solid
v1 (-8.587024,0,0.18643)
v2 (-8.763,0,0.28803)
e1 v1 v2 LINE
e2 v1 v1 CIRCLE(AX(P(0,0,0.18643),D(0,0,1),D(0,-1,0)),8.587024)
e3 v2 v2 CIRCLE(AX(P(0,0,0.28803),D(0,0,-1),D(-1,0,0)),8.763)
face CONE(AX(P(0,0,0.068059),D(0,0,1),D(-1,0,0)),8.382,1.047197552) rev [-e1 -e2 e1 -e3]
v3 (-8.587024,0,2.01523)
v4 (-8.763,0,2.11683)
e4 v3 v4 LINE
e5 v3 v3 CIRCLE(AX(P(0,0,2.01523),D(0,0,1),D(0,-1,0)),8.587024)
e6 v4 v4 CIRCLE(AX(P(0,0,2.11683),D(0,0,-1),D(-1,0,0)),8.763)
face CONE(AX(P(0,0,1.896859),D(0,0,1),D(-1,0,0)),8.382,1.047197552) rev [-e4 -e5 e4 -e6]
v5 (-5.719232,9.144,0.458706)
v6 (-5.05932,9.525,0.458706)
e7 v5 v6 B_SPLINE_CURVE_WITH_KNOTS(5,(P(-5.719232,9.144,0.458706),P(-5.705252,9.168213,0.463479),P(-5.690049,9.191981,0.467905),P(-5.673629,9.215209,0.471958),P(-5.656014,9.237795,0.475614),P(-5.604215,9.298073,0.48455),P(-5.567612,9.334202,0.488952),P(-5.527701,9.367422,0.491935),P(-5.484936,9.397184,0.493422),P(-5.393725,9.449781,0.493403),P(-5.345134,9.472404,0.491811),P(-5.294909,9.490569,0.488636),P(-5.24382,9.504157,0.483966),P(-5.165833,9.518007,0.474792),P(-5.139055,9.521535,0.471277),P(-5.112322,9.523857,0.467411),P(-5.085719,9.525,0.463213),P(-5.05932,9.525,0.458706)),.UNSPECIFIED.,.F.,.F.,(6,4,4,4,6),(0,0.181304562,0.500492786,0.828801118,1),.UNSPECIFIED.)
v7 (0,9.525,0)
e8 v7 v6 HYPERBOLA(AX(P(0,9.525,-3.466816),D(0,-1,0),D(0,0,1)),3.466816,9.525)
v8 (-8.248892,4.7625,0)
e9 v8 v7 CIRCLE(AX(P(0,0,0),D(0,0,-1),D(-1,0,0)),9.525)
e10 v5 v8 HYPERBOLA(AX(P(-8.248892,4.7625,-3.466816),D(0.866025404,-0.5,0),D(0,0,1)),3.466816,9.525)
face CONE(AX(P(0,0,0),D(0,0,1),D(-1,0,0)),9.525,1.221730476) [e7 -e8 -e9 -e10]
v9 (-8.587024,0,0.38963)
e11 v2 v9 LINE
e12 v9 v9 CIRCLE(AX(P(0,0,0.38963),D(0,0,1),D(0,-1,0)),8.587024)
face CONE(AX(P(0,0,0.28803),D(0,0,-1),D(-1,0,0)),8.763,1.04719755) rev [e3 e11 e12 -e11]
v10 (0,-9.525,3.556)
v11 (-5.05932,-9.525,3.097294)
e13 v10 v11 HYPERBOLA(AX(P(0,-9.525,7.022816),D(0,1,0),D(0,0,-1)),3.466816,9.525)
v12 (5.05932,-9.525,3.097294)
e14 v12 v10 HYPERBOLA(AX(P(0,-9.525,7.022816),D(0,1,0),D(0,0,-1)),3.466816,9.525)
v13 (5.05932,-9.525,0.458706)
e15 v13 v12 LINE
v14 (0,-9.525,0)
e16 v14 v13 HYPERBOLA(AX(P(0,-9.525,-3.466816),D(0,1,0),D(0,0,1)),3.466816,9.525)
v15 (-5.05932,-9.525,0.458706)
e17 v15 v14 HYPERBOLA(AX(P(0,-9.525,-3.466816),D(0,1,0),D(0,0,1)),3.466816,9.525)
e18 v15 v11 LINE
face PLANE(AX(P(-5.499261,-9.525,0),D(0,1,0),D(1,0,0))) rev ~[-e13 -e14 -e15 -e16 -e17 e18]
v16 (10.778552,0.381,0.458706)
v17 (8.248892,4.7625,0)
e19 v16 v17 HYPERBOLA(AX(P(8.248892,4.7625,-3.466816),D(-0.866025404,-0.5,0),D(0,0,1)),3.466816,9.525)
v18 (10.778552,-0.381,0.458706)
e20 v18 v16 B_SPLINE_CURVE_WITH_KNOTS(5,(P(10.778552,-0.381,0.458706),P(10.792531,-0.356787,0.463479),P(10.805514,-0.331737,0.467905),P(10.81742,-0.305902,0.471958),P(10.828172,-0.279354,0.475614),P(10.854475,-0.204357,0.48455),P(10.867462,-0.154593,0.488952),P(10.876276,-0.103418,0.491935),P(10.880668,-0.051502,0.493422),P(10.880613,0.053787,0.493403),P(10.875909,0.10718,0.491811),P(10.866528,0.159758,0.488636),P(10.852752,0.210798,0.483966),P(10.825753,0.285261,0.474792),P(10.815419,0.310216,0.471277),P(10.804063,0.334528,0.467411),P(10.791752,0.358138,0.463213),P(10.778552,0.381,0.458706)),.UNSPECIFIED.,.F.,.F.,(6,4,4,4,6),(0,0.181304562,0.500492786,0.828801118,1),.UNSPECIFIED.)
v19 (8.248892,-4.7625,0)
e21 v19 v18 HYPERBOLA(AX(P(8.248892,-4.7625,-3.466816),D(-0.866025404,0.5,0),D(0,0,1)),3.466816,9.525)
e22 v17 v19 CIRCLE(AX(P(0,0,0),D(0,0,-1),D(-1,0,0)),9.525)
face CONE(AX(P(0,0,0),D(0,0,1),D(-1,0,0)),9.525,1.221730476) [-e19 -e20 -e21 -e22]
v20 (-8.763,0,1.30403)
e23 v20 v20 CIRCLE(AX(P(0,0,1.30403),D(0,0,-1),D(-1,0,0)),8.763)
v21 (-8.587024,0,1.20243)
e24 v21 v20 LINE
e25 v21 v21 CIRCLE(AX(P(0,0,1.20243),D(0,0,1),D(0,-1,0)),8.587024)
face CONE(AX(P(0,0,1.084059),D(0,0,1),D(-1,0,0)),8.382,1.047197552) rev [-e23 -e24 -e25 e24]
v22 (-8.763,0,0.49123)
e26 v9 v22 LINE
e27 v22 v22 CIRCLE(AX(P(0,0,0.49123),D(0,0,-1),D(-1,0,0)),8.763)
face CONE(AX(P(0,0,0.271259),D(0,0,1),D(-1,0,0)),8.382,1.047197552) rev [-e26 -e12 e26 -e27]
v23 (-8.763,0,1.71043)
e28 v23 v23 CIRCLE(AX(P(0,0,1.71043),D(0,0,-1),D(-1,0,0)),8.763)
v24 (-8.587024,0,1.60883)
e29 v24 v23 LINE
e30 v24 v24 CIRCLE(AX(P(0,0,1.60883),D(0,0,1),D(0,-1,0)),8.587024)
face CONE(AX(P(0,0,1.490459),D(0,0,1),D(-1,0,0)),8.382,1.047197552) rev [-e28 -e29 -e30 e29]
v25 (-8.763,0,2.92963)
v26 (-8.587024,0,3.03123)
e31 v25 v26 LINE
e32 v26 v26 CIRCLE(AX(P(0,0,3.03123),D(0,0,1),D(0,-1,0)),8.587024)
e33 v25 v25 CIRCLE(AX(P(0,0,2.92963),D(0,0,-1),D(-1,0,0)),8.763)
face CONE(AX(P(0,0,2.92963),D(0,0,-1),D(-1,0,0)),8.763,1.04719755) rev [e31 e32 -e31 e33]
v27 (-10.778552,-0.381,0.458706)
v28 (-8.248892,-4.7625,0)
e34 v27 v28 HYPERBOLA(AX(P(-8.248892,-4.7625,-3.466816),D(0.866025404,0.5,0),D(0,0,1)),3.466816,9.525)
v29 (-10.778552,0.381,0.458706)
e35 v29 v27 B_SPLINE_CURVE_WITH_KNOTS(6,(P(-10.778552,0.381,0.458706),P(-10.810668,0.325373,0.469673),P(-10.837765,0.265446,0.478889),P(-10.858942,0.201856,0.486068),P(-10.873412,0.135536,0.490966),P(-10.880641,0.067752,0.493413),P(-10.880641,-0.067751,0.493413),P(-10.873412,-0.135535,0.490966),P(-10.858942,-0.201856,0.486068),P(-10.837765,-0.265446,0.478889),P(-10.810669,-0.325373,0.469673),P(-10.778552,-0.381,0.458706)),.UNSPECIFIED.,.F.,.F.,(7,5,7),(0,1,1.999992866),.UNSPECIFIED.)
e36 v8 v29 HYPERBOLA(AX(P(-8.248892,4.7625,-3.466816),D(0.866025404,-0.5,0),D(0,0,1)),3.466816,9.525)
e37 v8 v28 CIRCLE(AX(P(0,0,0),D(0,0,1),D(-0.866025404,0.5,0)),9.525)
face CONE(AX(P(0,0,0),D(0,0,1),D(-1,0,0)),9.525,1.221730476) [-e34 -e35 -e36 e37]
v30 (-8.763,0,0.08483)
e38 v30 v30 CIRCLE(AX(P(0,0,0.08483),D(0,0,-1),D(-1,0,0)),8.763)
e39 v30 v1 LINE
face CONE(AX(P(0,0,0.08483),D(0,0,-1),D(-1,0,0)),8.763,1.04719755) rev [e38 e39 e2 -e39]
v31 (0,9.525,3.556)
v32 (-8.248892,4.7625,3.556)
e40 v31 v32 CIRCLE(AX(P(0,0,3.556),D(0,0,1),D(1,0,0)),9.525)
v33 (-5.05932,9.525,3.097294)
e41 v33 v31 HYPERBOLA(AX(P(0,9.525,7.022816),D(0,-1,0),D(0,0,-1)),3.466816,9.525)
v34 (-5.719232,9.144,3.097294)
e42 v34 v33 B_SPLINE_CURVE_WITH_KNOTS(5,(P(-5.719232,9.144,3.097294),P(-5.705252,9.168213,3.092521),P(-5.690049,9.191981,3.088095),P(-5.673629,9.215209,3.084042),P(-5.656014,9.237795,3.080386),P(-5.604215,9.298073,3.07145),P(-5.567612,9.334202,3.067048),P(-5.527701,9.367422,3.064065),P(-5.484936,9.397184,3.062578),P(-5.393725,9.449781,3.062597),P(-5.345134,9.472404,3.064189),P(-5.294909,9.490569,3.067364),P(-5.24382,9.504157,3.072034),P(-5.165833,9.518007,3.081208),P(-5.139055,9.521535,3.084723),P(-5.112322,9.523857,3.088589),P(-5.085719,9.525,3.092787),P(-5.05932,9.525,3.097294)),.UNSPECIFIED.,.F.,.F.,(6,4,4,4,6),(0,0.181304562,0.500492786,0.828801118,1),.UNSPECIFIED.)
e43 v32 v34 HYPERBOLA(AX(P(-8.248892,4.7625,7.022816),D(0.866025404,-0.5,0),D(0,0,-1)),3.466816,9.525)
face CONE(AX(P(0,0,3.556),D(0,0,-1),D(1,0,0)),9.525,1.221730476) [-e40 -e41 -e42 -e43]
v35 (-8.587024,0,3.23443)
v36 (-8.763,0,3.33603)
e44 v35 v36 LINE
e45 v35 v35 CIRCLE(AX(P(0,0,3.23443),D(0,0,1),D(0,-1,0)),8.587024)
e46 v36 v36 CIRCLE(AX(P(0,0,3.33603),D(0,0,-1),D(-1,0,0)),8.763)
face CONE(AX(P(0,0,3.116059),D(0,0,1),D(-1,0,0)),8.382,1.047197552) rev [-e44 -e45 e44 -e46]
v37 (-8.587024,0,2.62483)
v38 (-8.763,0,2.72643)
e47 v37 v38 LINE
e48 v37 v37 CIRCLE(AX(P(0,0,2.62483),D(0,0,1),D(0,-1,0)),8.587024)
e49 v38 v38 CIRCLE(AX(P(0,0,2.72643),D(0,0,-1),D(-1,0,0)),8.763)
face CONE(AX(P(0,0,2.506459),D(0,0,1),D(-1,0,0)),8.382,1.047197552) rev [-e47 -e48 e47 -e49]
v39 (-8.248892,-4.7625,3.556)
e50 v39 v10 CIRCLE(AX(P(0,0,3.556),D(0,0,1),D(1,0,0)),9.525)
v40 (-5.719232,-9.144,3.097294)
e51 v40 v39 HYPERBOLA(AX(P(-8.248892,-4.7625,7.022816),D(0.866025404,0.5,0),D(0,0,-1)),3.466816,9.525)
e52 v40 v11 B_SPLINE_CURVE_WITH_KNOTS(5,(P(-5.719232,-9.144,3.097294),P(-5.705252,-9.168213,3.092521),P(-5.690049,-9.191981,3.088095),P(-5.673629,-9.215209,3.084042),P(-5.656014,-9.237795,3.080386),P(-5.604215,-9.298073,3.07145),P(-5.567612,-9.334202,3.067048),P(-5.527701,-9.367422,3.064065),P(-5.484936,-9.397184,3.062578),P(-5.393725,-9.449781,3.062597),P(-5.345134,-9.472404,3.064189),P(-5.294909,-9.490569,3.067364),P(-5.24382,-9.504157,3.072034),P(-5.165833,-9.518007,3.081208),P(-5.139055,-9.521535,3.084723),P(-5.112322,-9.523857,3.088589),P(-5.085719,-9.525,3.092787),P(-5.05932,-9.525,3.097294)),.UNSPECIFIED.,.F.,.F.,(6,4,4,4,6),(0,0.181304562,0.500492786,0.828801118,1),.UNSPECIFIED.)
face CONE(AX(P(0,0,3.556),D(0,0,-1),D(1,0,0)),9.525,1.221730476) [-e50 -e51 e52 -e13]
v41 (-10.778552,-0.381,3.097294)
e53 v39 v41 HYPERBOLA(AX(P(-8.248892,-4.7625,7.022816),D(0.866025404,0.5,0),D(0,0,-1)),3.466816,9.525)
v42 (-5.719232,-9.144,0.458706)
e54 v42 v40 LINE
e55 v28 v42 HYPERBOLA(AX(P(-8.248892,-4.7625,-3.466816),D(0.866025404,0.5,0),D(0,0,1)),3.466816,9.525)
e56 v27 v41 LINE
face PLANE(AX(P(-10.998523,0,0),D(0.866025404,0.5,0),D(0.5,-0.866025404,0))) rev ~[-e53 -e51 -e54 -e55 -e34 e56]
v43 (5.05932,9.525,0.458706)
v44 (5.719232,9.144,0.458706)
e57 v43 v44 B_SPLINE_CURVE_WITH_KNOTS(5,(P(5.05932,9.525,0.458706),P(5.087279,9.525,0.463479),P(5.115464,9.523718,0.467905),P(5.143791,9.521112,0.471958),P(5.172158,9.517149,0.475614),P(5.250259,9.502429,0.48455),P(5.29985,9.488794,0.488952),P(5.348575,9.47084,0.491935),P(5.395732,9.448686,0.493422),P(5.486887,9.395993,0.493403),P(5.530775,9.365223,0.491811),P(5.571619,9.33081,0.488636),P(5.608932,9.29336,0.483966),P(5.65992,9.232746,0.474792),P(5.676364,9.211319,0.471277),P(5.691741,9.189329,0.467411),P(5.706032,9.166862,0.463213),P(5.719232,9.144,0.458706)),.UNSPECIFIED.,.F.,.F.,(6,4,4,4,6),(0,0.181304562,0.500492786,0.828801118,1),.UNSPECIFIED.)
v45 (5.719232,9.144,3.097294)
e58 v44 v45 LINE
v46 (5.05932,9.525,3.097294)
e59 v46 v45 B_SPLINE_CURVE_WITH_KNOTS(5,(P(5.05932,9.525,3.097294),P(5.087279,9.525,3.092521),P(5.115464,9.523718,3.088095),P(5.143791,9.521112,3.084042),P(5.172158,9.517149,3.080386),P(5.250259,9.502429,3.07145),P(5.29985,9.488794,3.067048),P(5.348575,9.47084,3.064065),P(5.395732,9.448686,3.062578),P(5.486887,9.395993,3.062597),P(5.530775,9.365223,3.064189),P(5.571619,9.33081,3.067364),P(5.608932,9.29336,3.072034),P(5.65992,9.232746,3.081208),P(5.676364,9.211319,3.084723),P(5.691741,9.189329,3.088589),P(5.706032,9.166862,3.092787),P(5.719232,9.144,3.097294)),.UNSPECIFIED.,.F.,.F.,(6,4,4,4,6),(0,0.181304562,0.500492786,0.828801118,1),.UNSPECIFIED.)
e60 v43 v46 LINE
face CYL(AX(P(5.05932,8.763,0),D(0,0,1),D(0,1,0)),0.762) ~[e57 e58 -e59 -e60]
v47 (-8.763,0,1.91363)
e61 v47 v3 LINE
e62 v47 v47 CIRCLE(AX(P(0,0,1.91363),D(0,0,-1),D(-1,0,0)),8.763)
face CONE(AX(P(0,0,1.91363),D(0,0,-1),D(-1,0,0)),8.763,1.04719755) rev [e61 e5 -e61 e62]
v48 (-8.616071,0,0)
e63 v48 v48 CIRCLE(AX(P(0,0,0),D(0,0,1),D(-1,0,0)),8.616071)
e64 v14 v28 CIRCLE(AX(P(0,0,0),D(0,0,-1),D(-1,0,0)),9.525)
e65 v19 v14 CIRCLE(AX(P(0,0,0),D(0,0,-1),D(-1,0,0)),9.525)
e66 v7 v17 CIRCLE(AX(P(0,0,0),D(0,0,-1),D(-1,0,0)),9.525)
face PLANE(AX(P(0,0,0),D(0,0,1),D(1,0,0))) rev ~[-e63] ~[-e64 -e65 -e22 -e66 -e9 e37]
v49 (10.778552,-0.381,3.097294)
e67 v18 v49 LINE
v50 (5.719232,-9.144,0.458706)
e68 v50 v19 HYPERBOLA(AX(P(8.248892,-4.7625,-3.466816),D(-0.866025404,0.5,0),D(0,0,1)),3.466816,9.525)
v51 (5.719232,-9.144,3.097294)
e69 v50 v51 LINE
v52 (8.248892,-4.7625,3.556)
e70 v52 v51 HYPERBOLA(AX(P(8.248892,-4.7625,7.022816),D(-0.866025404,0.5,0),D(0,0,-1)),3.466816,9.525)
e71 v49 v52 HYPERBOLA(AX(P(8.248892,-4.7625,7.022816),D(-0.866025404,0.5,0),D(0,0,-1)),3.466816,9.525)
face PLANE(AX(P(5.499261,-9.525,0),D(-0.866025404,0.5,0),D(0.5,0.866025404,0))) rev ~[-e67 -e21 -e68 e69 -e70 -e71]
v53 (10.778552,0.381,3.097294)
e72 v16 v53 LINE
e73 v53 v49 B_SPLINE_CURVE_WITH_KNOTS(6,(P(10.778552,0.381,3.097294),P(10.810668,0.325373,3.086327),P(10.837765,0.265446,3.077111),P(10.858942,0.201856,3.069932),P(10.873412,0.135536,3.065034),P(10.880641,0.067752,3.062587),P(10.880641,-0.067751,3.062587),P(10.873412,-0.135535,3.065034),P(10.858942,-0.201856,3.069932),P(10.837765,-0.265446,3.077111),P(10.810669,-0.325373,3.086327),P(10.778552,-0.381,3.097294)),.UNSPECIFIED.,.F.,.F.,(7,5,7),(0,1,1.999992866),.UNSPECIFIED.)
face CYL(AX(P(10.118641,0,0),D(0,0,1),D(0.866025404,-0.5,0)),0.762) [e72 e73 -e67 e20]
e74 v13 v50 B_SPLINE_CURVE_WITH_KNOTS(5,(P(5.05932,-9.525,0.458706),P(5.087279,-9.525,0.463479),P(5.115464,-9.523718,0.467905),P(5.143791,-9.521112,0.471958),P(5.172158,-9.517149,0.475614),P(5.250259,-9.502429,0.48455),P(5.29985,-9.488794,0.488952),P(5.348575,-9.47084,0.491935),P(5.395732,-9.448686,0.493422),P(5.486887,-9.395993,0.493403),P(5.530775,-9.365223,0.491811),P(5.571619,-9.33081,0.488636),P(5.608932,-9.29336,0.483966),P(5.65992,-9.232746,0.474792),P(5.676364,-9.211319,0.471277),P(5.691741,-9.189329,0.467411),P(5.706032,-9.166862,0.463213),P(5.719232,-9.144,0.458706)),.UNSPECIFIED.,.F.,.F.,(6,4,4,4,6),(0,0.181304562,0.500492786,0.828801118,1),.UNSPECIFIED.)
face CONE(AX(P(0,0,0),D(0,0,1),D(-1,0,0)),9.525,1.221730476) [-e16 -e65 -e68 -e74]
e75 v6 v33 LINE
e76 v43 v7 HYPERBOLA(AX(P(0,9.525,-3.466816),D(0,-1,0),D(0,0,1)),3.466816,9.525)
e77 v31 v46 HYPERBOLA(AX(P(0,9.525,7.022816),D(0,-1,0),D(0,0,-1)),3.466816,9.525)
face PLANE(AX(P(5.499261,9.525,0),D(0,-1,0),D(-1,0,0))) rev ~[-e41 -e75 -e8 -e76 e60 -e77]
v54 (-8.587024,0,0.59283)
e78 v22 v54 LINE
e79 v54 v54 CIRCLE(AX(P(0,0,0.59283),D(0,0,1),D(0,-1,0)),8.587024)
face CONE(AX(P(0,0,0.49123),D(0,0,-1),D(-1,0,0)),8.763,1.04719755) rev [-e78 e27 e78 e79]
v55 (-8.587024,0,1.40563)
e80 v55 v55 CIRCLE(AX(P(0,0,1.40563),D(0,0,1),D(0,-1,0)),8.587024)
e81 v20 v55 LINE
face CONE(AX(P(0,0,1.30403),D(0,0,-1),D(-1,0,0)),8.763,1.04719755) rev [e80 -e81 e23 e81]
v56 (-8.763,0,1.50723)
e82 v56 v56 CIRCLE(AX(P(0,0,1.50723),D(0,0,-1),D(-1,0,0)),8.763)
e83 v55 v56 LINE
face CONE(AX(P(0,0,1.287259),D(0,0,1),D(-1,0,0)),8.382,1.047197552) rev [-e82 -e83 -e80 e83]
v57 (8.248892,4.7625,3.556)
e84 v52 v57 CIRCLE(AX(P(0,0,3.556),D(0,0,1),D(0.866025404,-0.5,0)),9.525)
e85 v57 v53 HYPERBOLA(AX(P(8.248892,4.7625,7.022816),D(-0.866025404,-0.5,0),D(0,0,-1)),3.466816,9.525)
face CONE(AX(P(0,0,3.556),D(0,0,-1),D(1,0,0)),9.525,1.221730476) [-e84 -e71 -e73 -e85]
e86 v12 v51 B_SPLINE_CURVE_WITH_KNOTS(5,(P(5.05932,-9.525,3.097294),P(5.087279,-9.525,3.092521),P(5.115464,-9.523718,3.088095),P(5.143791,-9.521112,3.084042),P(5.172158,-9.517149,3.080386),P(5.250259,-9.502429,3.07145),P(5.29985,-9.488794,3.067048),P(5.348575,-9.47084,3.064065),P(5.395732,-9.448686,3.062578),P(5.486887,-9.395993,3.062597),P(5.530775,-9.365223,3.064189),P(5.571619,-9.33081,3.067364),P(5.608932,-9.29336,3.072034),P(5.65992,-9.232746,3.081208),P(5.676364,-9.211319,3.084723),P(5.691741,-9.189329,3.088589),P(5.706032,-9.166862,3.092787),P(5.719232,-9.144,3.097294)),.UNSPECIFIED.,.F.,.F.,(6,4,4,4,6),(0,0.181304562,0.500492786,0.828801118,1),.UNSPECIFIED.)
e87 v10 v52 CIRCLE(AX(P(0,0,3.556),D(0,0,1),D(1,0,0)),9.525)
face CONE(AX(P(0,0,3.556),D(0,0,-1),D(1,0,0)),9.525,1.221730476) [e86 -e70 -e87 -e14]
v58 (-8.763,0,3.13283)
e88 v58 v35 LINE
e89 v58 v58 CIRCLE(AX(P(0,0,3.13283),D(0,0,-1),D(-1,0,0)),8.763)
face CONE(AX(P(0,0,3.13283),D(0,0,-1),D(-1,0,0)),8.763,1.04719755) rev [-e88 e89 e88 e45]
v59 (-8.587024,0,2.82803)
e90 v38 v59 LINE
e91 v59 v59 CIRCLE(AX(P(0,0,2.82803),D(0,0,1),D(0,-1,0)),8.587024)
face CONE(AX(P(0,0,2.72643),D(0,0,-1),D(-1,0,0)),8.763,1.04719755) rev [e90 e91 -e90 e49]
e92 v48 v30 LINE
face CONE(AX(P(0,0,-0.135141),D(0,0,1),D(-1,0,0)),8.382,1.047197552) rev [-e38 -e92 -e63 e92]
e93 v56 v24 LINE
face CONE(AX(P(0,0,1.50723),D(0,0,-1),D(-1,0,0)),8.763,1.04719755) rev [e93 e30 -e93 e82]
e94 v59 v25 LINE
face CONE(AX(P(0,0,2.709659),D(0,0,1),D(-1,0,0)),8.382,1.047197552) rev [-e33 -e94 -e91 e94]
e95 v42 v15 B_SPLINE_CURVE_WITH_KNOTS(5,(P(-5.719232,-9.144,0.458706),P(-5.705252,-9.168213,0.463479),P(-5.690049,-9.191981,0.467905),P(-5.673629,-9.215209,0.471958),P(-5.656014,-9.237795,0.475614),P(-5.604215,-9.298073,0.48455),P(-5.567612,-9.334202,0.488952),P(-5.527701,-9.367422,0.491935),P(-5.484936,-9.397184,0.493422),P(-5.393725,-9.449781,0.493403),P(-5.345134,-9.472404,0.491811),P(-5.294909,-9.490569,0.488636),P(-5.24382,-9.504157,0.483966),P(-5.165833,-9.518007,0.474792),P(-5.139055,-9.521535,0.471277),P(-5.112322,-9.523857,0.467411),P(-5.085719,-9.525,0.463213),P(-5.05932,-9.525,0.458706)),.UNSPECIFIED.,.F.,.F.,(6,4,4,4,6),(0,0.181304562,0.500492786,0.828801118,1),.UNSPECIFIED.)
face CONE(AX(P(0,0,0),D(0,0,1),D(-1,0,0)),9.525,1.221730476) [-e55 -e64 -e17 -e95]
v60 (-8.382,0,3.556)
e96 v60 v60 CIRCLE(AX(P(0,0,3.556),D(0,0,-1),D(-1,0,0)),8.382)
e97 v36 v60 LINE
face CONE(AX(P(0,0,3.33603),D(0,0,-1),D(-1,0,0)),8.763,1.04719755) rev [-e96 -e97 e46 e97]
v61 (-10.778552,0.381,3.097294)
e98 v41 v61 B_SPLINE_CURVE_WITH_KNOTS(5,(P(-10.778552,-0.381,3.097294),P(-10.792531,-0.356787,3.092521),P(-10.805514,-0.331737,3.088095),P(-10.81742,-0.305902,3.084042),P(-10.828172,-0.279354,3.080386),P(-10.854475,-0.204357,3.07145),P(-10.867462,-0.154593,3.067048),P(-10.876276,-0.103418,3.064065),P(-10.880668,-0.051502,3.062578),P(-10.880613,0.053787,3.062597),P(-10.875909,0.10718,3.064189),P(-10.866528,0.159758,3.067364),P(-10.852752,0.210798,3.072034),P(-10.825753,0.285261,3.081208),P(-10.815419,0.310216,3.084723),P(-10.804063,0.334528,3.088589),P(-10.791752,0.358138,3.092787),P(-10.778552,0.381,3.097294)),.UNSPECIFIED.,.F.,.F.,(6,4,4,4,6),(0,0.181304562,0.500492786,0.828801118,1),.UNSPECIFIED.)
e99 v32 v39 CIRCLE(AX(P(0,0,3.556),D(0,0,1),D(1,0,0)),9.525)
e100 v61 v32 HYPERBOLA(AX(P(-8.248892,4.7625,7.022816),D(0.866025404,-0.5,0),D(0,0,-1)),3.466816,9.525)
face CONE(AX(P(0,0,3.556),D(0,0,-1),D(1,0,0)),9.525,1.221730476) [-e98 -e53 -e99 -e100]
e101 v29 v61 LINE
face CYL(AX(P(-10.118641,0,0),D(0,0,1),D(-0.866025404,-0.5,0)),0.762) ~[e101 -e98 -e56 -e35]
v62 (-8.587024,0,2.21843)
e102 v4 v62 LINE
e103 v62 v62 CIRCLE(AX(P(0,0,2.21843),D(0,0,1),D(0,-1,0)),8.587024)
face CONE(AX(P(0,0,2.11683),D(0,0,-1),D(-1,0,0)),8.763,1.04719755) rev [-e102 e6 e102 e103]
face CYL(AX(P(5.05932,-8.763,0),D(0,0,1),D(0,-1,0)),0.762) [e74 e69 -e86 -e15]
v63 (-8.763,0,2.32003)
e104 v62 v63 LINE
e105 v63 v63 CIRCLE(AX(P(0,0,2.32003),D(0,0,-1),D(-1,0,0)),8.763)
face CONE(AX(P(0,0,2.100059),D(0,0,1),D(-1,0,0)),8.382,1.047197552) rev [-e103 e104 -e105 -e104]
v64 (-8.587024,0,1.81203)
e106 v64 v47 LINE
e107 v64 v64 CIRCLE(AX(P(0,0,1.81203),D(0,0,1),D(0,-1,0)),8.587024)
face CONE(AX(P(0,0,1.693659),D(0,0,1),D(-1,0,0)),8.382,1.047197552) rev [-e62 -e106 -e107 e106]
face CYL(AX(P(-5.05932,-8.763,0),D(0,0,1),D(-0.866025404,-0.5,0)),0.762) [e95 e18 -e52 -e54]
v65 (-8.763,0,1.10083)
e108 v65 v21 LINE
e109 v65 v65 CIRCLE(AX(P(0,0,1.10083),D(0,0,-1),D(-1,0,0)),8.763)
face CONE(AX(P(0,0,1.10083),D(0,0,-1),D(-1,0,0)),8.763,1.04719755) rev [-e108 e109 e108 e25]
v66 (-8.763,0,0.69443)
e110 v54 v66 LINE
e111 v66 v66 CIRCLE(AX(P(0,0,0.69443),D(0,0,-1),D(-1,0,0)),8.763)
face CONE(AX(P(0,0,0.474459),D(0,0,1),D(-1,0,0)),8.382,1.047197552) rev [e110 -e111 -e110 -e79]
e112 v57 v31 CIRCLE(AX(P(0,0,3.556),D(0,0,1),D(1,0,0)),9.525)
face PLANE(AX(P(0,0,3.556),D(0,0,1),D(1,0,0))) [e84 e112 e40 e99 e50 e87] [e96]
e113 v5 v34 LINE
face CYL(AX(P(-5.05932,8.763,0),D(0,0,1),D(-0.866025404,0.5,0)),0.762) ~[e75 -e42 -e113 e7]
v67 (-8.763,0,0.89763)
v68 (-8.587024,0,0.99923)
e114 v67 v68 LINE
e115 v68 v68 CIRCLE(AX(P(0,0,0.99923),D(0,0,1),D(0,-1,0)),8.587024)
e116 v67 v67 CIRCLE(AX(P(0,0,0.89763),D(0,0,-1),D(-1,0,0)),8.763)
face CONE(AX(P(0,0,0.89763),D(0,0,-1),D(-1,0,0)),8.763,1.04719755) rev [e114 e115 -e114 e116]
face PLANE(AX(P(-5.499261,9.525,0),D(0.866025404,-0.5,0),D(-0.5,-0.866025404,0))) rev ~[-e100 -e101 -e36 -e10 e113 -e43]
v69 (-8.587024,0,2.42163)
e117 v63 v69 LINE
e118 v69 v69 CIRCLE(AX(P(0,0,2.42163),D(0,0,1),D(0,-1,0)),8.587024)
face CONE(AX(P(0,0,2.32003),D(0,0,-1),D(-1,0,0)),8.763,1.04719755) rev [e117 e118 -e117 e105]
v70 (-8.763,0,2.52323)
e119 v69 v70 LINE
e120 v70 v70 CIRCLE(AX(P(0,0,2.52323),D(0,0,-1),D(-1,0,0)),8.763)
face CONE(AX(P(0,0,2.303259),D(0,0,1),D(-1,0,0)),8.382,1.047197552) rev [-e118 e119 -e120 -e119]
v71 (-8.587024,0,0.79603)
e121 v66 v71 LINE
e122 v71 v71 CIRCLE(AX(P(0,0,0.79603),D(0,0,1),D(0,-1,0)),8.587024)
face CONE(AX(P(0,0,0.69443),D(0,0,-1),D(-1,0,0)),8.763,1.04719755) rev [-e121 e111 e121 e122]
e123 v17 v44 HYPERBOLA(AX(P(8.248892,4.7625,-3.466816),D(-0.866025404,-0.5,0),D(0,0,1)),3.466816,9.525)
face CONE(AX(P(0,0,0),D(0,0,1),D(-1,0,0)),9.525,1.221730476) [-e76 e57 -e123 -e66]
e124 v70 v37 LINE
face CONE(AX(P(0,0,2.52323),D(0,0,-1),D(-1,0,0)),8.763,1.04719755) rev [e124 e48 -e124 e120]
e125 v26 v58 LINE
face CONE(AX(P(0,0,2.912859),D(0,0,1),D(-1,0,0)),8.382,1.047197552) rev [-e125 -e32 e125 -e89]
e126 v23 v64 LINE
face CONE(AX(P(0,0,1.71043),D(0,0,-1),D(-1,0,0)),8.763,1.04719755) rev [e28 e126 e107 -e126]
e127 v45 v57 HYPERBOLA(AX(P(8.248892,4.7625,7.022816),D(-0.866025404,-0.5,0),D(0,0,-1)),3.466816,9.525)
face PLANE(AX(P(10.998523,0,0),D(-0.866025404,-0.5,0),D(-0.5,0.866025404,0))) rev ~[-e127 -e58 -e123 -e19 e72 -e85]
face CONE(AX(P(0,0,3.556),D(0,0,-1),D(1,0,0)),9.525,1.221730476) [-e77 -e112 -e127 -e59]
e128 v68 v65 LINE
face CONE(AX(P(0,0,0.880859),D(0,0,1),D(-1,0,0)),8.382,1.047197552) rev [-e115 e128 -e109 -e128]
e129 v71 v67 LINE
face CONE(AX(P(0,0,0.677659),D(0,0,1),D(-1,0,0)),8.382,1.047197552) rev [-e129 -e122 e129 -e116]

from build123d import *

# Parameters (mm, degrees)
SKETCH1_R          = 8.382
EXTRUDE1_DEPTH     = 3.556
FILLET1_R          = 0.762
SKETCH2_OUTSIDE_W  = 54.624
SKETCH2_OUTSIDE_H  = 51.912
SKETCH2_OUTSIDE_R  = 9.525
CUT_EXTRUDE1_DEPTH = 4.556
CUT_EXTRUDE1_DRAFT = -70
SKETCH3_OUTSIDE_W  = 54.624
SKETCH3_OUTSIDE_H  = 51.912
SKETCH3_OUTSIDE_R  = 9.525
CUT_EXTRUDE2_DEPTH = 4.5560001
CUT_EXTRUDE2_DRAFT = -70
LPATTERN1_COUNT    = 18
LPATTERN1_PITCH    = 0.2032


with BuildPart() as part:
    # Sketch1 → Extrude1 (new body)
    with BuildSketch(Plane.XY):
        Polygon((-10.998522628, 0), (-5.499261314, -9.525), (5.499261314, -9.525), (10.998522628, 0), (5.499261314, 9.525), (-5.499261314, 9.525), align=None)
        Circle(SKETCH1_R, mode=Mode.SUBTRACT)
    extrude(amount=EXTRUDE1_DEPTH)

    # Fillet1
    fillet1_edges = [part.edges().sort_by_distance(p)[0] for p in [
        (10.998522628, 0, 1.778),
        (5.499261314, -9.525, 1.778),
        (-5.499261314, -9.525, 1.778),
        (-10.998522628, 0, 1.778),
        (-5.499261314, 9.525, 1.778),
        (5.499261314, 9.525, 1.778),
    ]]
    fillet(fillet1_edges, radius=FILLET1_R)


with BuildPart() as cut_extrude1_tool:
    # Sketch2 outside → Cut-Extrude1 (with draft: the straight prism first)
    with BuildSketch(Plane.XY.offset(3.556)):
        Rectangle(SKETCH2_OUTSIDE_W, SKETCH2_OUTSIDE_H)
        Circle(SKETCH2_OUTSIDE_R, mode=Mode.SUBTRACT)
    extrude(amount=-CUT_EXTRUDE1_DEPTH)
    # Cut-Extrude1: the draft: its side faces are tilted about the plane it starts from
    cut_extrude1_sides = [cut_extrude1_tool.faces().sort_by_distance(p)[0] for p in [
        (0, -25.956, 1.278),
        (27.312, 0, 1.278),
        (0, 25.956, 1.278),
        (-27.312, 0, 1.278),
        (-9.525, 0, 1.278),
    ]]
    draft(cut_extrude1_sides, Plane.XY.offset(3.556), CUT_EXTRUDE1_DRAFT)


with BuildPart() as part_1:
    add(part.part)

    # Cut-Extrude1: cut by cut_extrude1_tool
    add(cut_extrude1_tool.part, mode=Mode.SUBTRACT)


with BuildPart() as cut_extrude2_tool:
    # Sketch3 outside → Cut-Extrude2 (with draft: the straight prism first)
    with BuildSketch(Plane(origin=(0, 0, 0), x_dir=(-1, 0, 0), z_dir=(0, 0, -1))):
        Rectangle(SKETCH3_OUTSIDE_W, SKETCH3_OUTSIDE_H)
        Circle(SKETCH3_OUTSIDE_R, mode=Mode.SUBTRACT)
    extrude(amount=-CUT_EXTRUDE2_DEPTH)
    # Cut-Extrude2: the draft: its side faces are tilted about the plane it starts from
    cut_extrude2_sides = [cut_extrude2_tool.faces().sort_by_distance(p)[0] for p in [
        (0, -25.956, 2.27800005),
        (-27.312, 0, 2.27800005),
        (0, 25.956, 2.27800005),
        (27.312, 0, 2.27800005),
        (9.525, 0, 2.27800005),
    ]]
    draft(cut_extrude2_sides, Plane(origin=(0, 0, 0), x_dir=(-1, 0, 0), z_dir=(0, 0, -1)), CUT_EXTRUDE2_DRAFT)


with BuildPart() as part_2:
    add(part_1.part)

    # Cut-Extrude2: cut by cut_extrude2_tool
    add(cut_extrude2_tool.part, mode=Mode.SUBTRACT)

    # Sketch4 → Cut-Revolve1 (revolve, cut)
    with BuildSketch(Plane(origin=(0, 0, 0), x_dir=(1, 0, 0), z_dir=(0, 1, 0))):
        Polygon((-8.382, -3.556), (-8.382, -3.116059095), (-8.763, -3.336029547), align=None)
    cut_revolve1 = revolve(axis=Axis((0, 0, 3.556), (0, 0, -1)), mode=Mode.SUBTRACT)

    # LPattern1: Cut-Revolve1 ×18
    with Locations(*[(0, 0, -i * LPATTERN1_PITCH) for i in range(1, LPATTERN1_COUNT)]):
        add(cut_revolve1, mode=Mode.SUBTRACT)


solid = part_2.part
